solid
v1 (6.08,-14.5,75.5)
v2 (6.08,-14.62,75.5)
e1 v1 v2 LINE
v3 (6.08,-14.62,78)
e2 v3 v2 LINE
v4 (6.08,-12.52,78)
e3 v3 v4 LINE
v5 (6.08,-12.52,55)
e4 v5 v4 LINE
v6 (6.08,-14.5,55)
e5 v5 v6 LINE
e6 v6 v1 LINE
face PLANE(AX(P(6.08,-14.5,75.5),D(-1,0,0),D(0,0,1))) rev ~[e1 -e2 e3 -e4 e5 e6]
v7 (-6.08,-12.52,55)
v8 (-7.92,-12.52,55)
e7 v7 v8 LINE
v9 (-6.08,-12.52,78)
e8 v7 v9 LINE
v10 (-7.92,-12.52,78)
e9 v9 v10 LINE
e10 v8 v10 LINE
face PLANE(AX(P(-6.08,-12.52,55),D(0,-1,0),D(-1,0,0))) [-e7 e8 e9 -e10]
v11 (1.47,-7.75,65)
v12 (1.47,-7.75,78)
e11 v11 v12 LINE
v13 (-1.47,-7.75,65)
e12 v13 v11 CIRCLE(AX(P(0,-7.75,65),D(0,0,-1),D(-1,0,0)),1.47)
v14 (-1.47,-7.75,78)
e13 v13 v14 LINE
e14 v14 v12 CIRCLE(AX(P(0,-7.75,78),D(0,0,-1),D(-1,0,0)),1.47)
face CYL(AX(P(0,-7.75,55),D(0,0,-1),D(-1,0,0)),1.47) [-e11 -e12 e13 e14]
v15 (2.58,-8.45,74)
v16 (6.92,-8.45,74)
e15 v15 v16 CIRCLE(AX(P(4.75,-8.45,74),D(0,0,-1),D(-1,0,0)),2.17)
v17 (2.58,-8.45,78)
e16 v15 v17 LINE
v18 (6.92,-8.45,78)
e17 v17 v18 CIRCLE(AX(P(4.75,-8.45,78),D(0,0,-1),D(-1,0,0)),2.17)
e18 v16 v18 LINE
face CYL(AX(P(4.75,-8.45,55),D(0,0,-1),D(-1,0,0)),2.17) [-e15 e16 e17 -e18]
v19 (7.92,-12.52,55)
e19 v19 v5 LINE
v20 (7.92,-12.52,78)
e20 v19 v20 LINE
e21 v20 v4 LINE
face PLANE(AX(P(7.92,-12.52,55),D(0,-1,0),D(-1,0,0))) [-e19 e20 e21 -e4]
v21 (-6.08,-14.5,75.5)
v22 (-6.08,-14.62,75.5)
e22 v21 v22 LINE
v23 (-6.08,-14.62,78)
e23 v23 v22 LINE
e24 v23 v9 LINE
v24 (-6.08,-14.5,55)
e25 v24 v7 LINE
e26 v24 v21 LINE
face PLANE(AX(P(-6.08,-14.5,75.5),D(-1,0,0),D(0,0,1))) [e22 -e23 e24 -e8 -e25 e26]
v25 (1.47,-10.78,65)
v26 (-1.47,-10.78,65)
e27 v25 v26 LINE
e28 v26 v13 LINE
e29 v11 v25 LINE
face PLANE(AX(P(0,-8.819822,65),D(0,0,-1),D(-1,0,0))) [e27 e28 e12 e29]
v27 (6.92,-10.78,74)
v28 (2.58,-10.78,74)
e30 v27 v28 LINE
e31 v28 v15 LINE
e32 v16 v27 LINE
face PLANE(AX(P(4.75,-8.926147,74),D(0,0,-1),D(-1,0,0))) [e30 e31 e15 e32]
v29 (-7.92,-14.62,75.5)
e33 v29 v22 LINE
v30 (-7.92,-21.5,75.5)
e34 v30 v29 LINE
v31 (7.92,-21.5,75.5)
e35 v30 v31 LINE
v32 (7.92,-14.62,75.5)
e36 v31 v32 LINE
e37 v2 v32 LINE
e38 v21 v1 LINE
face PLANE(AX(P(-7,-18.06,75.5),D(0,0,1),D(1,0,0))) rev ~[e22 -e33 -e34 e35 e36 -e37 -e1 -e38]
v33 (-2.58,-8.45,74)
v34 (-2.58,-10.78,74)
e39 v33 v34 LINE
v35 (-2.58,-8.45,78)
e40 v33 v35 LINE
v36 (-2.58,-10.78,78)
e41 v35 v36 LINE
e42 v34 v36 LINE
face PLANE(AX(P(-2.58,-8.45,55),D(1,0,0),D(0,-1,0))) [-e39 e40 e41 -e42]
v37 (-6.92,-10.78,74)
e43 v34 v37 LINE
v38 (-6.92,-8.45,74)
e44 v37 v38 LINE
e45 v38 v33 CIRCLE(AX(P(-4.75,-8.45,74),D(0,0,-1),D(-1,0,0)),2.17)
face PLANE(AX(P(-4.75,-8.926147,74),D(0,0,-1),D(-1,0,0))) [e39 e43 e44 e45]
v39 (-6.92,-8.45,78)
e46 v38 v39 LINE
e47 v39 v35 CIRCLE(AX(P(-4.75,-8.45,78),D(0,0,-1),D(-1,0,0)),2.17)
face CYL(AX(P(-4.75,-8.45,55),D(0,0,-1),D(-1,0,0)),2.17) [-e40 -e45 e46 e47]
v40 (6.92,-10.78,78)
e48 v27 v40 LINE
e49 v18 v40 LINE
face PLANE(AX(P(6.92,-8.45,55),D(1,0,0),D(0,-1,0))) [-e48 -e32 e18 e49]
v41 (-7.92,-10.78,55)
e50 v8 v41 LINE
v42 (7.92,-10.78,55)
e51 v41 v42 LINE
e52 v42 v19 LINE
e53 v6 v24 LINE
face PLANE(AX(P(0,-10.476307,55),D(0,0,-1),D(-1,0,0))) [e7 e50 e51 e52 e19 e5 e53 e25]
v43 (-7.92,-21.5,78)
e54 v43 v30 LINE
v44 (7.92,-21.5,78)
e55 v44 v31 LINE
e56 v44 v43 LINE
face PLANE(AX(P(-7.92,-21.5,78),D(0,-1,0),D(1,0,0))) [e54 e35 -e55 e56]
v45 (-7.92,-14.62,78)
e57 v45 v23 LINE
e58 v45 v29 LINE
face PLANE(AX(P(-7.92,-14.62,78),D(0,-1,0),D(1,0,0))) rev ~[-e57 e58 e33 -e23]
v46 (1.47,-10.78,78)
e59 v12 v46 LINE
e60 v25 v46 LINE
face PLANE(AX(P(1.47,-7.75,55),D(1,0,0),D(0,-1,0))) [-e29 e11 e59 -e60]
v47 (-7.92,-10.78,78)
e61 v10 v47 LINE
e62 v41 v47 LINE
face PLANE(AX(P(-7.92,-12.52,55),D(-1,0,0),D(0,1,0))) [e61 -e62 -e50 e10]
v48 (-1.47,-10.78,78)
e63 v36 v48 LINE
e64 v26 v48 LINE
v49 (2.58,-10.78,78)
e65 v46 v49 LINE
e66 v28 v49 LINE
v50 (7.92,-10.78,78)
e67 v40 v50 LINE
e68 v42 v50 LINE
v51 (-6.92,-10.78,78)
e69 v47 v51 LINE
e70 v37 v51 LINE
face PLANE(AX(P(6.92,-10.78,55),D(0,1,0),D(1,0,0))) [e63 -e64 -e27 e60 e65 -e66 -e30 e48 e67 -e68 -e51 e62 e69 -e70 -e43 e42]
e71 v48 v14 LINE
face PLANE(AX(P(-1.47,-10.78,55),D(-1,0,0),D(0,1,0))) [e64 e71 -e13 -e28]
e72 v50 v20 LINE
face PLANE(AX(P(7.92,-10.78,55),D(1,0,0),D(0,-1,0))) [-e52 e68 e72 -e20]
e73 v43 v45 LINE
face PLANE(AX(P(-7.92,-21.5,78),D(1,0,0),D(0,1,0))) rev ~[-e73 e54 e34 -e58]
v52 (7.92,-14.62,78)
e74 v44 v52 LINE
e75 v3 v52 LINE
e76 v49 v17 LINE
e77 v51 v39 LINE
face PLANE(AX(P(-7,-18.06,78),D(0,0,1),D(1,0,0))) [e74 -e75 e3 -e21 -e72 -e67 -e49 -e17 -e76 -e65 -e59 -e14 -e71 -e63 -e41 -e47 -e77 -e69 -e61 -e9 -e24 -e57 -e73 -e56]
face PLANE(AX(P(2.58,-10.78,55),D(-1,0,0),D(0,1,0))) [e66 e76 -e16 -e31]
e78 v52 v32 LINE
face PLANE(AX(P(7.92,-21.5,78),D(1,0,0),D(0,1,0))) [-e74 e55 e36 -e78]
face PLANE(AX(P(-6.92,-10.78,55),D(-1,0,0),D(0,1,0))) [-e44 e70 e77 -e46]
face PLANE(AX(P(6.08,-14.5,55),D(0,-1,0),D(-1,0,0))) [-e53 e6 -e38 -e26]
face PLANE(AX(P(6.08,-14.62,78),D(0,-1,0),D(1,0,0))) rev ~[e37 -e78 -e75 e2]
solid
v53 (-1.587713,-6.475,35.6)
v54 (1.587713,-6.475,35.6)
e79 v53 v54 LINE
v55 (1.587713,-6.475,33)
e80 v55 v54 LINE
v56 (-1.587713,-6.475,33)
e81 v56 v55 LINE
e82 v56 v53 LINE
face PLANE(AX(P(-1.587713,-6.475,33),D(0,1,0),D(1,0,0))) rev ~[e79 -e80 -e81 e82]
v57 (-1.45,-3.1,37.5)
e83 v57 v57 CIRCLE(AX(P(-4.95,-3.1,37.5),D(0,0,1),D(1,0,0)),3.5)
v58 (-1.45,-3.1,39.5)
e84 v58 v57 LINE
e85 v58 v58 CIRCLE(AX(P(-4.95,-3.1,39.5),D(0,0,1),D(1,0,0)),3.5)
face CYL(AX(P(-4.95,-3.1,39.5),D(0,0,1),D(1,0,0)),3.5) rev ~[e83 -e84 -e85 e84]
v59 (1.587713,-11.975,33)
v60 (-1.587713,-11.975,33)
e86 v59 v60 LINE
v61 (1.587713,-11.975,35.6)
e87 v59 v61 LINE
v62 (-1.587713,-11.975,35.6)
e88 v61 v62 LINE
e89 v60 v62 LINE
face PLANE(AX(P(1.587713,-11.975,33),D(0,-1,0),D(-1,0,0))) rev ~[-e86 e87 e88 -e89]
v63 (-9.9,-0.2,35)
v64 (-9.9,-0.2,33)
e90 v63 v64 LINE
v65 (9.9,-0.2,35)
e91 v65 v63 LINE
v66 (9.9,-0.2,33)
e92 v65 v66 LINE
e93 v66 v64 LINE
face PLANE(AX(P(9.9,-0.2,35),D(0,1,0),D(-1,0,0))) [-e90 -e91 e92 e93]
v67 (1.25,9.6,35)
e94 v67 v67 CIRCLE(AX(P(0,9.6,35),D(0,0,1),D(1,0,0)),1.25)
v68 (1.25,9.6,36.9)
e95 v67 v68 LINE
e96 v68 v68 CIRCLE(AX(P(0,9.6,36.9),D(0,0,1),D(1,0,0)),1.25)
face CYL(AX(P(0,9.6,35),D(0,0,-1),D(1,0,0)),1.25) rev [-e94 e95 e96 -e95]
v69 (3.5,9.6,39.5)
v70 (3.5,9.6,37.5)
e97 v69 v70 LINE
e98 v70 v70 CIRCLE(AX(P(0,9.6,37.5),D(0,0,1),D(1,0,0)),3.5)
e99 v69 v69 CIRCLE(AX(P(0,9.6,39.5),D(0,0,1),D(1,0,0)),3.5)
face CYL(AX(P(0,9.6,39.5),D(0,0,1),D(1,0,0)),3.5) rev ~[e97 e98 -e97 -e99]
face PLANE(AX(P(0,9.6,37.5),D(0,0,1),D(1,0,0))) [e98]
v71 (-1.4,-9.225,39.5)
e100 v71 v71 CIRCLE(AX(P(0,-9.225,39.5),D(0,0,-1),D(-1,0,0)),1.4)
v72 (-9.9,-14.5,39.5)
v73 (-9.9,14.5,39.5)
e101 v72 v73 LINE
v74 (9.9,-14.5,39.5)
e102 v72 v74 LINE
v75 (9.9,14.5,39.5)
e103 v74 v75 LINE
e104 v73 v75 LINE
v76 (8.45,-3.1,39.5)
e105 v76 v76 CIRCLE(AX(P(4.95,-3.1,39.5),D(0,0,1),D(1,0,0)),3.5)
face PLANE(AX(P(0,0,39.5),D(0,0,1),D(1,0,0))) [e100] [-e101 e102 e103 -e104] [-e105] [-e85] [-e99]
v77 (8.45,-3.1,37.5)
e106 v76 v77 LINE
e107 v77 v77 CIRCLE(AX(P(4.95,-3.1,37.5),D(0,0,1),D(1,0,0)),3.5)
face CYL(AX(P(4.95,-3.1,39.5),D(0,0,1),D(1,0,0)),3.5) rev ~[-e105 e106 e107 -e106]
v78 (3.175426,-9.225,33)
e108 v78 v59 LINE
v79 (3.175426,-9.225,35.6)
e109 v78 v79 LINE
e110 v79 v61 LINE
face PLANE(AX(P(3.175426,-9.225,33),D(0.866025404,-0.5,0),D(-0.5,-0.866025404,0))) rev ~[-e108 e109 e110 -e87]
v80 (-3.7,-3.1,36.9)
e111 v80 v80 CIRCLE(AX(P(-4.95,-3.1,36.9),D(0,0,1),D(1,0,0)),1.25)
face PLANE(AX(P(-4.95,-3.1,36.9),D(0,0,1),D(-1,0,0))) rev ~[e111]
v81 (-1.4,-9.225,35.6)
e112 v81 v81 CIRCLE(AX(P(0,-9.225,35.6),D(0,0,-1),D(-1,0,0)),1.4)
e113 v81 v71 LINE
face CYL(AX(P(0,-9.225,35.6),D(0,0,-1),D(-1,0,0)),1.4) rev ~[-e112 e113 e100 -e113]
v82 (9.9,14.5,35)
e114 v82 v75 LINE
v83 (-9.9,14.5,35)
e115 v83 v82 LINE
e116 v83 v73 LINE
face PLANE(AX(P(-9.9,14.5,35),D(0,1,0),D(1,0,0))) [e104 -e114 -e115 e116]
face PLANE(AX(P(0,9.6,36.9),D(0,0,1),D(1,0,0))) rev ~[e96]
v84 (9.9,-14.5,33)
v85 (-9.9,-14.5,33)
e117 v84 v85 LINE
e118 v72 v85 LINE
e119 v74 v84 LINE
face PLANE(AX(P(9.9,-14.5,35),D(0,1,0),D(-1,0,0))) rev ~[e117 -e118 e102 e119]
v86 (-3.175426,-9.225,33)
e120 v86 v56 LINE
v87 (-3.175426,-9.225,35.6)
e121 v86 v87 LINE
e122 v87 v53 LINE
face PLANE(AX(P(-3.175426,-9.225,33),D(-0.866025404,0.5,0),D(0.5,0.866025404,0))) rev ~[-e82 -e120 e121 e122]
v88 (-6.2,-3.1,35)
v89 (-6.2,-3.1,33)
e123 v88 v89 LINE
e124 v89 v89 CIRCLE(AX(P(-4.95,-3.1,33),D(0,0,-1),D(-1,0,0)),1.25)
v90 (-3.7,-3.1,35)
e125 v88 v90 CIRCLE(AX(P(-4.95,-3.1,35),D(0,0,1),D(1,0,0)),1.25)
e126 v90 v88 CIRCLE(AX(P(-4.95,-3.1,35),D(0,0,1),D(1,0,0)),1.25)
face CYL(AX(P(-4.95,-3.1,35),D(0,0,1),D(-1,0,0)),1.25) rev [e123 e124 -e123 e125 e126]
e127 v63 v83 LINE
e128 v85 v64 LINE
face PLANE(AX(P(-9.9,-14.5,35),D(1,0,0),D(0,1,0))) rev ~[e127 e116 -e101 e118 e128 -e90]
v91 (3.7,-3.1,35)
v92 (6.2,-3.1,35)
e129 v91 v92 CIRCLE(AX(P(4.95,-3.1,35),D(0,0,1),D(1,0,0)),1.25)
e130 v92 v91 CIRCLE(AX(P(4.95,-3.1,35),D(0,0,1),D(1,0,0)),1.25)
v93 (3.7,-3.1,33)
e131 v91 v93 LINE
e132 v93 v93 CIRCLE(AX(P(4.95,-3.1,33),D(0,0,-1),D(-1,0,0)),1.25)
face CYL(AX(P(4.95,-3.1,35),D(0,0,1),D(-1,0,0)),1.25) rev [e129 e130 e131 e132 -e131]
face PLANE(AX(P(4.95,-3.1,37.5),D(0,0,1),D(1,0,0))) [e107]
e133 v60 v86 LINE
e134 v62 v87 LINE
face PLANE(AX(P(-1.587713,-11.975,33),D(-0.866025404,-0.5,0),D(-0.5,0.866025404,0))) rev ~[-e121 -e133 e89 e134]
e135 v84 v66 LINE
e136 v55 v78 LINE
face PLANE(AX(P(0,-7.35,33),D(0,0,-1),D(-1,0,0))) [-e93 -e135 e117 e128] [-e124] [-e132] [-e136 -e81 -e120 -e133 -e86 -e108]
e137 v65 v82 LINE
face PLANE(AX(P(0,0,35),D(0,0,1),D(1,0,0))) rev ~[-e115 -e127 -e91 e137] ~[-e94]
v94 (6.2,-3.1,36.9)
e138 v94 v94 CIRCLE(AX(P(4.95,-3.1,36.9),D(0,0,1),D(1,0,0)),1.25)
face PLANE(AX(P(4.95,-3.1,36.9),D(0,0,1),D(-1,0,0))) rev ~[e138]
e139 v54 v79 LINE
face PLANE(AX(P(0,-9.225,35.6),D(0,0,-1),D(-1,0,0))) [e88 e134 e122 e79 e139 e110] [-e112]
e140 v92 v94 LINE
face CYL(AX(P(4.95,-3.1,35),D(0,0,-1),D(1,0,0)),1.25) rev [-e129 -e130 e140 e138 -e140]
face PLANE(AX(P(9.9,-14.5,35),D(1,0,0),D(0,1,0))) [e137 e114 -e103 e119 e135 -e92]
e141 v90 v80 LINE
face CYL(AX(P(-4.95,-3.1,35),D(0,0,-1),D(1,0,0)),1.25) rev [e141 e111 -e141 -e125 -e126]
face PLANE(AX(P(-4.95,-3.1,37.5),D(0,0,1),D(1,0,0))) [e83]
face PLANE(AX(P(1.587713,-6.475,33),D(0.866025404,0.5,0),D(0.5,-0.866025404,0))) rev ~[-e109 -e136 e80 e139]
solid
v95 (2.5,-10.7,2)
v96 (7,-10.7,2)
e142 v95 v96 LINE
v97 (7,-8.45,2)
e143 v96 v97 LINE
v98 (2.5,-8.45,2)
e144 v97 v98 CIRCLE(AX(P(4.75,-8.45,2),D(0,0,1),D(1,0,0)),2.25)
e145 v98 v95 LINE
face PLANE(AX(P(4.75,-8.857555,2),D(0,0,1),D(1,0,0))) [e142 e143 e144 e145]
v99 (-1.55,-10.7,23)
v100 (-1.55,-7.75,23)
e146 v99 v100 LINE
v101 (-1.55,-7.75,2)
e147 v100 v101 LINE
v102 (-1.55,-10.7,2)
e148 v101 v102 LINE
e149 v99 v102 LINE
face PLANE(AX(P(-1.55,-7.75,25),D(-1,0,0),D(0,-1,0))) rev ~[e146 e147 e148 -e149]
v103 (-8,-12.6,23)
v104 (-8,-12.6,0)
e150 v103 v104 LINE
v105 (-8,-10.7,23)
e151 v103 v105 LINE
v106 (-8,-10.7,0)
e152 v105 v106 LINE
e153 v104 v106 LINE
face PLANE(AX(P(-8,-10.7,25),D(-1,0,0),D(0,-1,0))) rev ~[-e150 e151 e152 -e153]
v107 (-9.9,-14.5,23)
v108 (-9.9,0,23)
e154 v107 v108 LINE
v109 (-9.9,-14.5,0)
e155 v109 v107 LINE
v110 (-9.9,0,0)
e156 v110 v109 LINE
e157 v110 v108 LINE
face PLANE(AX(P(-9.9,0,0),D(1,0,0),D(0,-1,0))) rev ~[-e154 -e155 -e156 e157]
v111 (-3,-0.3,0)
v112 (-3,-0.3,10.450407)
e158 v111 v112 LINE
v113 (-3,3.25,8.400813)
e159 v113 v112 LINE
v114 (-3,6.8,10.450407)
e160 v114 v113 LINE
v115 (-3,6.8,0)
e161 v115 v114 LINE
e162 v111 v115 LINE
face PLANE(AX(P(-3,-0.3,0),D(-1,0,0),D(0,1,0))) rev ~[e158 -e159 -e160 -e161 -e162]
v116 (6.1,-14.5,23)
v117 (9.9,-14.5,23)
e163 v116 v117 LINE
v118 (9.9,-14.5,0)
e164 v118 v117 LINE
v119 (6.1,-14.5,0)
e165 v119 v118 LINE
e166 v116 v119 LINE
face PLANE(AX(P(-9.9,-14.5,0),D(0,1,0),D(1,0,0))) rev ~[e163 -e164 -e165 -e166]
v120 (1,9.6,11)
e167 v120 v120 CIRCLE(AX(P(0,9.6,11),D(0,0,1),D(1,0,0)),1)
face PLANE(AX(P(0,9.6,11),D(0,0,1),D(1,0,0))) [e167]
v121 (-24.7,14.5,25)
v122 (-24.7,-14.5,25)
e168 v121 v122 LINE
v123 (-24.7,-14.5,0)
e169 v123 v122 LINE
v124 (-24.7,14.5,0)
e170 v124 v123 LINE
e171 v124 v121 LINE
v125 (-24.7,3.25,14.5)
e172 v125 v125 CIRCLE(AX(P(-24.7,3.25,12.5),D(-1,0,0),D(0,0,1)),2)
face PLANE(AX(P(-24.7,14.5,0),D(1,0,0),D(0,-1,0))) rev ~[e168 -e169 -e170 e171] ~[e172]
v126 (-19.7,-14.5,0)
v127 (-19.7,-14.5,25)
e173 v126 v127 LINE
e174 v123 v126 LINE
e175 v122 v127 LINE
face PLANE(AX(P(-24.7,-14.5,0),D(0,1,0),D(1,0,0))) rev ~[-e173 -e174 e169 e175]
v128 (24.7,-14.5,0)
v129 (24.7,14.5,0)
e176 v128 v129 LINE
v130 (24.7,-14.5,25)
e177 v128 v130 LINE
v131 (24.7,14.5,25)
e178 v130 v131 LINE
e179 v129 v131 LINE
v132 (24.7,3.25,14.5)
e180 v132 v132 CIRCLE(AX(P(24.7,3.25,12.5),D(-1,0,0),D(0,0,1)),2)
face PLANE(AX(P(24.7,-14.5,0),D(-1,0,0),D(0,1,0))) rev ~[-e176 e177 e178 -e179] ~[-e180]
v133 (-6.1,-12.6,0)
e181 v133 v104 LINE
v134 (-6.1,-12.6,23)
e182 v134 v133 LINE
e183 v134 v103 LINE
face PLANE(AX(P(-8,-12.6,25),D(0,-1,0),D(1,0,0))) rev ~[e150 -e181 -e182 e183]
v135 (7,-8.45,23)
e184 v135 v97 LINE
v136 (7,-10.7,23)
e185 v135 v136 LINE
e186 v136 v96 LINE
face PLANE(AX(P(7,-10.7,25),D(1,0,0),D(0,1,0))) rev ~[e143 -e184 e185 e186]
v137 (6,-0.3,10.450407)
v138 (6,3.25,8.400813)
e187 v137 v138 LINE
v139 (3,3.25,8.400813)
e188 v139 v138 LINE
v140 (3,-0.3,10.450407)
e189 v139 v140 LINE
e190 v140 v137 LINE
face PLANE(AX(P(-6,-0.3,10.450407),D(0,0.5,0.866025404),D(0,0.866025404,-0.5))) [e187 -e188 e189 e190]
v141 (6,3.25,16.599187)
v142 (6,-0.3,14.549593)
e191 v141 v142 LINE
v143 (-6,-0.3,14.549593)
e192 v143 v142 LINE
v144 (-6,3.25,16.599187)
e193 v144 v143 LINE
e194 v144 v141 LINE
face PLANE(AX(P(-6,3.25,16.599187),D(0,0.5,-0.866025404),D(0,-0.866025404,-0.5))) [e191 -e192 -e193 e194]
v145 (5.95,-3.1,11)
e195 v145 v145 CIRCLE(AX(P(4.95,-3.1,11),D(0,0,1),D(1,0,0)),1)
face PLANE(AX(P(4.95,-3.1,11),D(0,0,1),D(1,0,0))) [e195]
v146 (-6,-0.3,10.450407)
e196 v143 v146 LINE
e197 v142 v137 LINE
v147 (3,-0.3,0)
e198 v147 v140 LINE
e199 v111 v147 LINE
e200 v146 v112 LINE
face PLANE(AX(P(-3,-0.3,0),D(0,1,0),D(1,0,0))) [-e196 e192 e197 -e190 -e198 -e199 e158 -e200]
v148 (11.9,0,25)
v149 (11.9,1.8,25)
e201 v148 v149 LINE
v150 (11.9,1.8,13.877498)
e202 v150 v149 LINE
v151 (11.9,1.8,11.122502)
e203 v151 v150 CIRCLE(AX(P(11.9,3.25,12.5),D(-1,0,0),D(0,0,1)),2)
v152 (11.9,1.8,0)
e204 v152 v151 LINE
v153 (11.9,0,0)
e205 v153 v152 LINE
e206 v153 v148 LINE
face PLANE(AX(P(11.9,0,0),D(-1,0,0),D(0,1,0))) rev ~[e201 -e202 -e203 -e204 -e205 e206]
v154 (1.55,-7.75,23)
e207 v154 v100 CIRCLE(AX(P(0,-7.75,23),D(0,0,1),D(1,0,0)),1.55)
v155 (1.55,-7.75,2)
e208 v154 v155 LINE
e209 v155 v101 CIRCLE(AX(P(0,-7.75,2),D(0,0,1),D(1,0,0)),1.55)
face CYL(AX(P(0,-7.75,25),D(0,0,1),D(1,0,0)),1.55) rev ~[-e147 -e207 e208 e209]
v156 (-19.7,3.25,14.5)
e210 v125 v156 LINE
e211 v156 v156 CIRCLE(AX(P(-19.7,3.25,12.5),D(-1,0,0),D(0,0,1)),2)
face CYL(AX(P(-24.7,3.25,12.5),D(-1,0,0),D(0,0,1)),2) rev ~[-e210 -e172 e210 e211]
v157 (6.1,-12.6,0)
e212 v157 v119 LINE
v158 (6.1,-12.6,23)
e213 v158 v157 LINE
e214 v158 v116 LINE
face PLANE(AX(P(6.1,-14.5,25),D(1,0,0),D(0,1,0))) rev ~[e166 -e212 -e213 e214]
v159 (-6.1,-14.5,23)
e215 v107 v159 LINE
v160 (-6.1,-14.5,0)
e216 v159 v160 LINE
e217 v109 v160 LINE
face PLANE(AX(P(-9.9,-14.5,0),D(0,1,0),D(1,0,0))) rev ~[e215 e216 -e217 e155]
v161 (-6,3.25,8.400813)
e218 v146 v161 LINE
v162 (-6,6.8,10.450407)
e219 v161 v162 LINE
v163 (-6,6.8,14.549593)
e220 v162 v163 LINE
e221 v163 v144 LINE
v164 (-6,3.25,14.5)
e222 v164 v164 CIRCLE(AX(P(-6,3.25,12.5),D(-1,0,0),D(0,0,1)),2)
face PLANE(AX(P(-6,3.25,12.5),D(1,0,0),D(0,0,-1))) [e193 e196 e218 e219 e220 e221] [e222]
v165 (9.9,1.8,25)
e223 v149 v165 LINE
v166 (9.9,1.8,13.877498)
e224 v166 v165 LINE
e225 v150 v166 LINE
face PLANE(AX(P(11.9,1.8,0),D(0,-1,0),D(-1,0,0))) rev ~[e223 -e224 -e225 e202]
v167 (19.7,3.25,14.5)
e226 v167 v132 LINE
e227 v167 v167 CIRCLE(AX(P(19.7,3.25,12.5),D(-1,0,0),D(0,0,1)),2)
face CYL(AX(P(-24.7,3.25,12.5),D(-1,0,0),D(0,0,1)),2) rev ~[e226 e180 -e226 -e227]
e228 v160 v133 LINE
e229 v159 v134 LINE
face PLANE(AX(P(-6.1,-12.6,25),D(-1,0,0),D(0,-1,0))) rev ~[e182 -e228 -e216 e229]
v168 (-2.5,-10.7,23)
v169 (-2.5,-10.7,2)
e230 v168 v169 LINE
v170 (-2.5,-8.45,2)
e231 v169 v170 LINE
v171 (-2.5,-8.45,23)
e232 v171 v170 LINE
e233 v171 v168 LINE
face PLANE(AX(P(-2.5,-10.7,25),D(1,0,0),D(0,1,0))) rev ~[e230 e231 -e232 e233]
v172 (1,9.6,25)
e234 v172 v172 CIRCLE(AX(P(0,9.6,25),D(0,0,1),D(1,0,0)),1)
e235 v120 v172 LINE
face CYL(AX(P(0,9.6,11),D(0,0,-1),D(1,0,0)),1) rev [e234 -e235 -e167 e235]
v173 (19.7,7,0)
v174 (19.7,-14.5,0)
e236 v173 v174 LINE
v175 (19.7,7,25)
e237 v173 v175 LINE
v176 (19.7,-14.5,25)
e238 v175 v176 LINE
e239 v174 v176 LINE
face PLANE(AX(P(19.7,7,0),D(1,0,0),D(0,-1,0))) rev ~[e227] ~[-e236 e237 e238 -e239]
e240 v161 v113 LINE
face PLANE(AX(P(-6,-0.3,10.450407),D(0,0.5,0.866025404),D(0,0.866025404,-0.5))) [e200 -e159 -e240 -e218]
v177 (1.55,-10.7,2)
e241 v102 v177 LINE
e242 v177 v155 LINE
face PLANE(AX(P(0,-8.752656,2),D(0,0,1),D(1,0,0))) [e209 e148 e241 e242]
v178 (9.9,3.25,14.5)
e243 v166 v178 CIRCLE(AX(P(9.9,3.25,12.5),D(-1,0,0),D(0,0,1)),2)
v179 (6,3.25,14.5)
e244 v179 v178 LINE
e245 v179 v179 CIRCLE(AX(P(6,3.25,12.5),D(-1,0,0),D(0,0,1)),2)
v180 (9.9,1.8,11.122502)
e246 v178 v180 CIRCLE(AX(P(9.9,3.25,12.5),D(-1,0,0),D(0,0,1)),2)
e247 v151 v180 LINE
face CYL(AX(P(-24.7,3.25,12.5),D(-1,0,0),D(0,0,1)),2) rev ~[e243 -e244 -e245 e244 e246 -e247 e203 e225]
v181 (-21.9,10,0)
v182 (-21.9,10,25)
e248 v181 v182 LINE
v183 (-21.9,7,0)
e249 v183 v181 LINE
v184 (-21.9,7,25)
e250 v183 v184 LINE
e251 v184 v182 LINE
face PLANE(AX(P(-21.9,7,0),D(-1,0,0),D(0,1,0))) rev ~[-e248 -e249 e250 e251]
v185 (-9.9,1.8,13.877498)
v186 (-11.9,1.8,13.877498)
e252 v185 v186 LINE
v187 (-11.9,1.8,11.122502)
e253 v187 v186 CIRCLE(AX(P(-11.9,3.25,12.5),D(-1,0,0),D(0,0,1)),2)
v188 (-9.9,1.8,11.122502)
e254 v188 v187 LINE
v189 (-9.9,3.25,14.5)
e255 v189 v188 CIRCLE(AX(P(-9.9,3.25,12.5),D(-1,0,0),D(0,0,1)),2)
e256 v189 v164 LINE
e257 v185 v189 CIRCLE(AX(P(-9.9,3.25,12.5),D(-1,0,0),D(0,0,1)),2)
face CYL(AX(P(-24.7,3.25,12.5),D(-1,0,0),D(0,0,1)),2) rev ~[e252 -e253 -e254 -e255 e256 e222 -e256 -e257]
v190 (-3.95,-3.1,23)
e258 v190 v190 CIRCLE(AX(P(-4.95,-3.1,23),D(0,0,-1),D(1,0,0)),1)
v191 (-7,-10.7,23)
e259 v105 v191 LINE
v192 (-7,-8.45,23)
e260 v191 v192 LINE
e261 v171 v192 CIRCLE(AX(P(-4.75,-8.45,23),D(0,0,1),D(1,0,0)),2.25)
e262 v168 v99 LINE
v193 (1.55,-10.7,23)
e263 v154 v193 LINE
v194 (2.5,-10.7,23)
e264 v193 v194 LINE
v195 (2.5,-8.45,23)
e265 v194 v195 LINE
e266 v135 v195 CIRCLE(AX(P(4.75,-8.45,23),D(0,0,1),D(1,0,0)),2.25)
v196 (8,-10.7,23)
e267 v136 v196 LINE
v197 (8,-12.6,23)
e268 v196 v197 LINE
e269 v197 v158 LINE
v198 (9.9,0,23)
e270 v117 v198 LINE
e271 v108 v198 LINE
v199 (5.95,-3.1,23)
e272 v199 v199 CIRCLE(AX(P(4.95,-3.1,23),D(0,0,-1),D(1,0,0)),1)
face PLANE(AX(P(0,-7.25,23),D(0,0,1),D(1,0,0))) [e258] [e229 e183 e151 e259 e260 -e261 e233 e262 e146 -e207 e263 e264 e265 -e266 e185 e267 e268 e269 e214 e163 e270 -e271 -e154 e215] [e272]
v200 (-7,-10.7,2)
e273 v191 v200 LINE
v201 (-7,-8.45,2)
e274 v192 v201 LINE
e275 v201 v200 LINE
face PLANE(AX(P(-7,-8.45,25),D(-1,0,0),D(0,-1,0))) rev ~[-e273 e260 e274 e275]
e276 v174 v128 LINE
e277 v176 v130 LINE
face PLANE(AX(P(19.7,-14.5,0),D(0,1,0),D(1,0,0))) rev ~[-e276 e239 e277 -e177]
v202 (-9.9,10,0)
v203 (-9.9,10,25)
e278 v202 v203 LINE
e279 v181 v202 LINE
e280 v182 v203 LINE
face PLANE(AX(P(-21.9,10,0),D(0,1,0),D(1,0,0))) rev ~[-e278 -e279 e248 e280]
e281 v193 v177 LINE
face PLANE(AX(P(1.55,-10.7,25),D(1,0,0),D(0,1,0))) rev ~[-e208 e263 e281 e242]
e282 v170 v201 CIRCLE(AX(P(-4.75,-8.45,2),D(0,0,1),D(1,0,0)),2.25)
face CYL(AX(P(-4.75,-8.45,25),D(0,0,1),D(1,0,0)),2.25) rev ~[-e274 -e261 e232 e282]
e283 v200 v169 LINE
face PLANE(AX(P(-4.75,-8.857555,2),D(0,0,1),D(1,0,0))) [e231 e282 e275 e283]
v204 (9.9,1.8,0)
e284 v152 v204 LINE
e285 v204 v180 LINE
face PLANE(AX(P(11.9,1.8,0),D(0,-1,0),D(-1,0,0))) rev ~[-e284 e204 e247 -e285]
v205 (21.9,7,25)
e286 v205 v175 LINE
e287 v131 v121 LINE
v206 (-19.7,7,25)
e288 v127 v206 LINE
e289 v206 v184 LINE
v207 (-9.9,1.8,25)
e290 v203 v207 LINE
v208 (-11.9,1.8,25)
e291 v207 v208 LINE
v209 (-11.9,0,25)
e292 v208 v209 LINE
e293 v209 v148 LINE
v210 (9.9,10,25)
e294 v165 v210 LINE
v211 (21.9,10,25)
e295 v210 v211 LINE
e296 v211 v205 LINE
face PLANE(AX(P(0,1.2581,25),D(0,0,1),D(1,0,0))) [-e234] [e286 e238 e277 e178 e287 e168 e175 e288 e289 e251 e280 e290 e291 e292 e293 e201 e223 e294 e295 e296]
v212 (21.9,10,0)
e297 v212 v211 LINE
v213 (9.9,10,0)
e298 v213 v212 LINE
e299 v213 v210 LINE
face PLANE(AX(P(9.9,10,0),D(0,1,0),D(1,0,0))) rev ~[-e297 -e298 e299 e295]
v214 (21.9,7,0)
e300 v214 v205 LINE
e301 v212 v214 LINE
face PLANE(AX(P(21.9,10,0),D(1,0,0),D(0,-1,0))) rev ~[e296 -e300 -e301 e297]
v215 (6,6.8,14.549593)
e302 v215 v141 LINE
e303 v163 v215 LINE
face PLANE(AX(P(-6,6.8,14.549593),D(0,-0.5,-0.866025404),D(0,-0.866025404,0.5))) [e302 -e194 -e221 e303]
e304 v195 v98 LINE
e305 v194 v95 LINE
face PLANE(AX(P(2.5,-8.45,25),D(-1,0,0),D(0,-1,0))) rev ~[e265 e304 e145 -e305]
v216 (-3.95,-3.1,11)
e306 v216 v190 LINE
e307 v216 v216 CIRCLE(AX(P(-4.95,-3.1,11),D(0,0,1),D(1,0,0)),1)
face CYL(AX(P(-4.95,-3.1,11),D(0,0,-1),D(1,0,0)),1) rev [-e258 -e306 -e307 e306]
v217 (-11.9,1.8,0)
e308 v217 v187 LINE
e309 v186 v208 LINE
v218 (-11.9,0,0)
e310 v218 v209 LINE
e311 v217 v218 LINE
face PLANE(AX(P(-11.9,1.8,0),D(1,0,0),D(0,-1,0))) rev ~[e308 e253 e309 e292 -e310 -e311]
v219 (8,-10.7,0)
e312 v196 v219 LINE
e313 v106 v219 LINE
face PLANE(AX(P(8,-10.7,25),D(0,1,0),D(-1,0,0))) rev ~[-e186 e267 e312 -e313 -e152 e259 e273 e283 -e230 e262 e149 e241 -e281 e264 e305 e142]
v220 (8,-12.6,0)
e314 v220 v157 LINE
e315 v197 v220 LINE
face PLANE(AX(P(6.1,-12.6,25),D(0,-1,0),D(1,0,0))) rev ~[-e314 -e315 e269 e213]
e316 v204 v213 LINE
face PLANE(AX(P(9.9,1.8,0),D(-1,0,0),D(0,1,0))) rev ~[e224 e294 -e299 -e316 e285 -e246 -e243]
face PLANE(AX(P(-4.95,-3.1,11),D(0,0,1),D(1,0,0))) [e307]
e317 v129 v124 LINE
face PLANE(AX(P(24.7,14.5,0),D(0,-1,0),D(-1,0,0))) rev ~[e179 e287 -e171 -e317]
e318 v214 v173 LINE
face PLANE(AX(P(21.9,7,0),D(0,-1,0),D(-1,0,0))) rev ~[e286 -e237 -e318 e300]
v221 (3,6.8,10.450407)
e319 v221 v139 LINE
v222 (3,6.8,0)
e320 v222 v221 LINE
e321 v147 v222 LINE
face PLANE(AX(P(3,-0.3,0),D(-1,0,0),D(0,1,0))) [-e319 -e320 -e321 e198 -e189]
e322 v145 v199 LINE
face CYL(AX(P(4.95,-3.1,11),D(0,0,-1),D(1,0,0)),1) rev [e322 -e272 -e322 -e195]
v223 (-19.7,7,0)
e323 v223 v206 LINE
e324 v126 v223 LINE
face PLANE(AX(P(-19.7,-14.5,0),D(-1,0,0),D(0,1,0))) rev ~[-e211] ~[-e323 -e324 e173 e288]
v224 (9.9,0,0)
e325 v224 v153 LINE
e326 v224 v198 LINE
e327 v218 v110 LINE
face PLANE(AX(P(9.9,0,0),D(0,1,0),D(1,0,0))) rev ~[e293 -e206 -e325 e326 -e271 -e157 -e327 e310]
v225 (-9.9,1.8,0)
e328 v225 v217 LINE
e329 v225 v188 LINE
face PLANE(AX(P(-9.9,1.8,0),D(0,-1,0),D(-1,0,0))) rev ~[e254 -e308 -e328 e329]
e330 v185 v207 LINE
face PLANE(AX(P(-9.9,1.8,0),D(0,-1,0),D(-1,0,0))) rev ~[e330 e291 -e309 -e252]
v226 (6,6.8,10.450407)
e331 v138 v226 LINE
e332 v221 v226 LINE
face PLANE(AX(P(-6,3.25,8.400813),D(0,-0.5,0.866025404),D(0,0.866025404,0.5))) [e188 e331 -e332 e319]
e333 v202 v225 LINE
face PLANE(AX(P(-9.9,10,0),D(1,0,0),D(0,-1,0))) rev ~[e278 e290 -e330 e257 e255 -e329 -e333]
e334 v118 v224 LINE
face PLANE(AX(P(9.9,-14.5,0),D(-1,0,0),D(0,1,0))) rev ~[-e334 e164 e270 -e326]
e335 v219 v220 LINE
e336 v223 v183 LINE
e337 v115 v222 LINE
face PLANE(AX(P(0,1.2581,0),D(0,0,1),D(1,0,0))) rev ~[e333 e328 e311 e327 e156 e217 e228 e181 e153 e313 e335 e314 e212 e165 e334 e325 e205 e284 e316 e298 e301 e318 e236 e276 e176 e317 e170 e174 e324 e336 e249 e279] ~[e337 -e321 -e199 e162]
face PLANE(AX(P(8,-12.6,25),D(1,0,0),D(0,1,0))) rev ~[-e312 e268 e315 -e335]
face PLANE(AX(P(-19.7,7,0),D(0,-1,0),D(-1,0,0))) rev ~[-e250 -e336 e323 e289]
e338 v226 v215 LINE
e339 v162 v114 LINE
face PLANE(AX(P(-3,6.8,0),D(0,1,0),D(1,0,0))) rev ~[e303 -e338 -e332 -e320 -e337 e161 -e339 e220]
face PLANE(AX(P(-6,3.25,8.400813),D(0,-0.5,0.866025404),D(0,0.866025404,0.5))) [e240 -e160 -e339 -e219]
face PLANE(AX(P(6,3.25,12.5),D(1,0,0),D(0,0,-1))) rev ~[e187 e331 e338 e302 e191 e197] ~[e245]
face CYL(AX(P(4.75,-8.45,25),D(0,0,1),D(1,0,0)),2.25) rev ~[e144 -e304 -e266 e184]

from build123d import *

# Parameters (mm, degrees)
BOSS_EXTRUDE1_DEPTH     = 25
SKETCH2_R               = 2
CUT_EXTRUDE1_DEPTH      = 58.232945058
CUT_EXTRUDE2_DEPTH      = 6
CUT_EXTRUDE2_DEPTH_BACK = 6
SKETCH6_W               = 6
SKETCH6_H               = 7.1
CUT_EXTRUDE3_DEPTH      = 10.450407
CUT_EXTRUDE4_REACH      = 40.018
CUT_EXTRUDE5_DEPTH      = 23
SKETCH12_W              = 19.8
SKETCH12_H              = 14.5
CUT_EXTRUDE6_DEPTH      = 2
CUT_EXTRUDE7_DEPTH      = 2
CUT_EXTRUDE7_DEPTH_BACK = 12
SKETCH13_R              = 1
SKETCH14_W              = 19.8
SKETCH14_H              = 29
SKETCH14_R              = 1.25
BOSS_EXTRUDE2_DEPTH     = 4.5
SKETCH15_W              = 19.8
SKETCH15_H              = 14.3
SKETCH15_R              = 1.25
BOSS_EXTRUDE3_DEPTH     = 2
SKETCH16_R              = 3.5
CUT_EXTRUDE8_DEPTH      = 2
SKETCH17_R              = 1.25
BOSS_EXTRUDE4_DEPTH     = 0.6
CUT_EXTRUDE9_DEPTH      = 2.6
SKETCH19_R              = 1.4
CUT_EXTRUDE10_DEPTH     = 3.9
BOSS_EXTRUDE5_DEPTH     = 23
SKETCH21_W              = 12.16
SKETCH21_H              = 2.5
BOSS_EXTRUDE6_DEPTH     = 7
CUT_EXTRUDE11_DEPTH     = 10
CUT_EXTRUDE12_DEPTH     = 9
SKETCH25_W              = 1.84
SKETCH25_H              = 6.88
BOSS_EXTRUDE7_DEPTH     = 2.5


with BuildPart() as part:
    # Sketch1 → Boss-Extrude1 (new body)
    with BuildSketch(Plane.XY):
        Polygon((-21.9, 7), (-21.9, 10), (-9.9, 10), (-9.9, 1.8), (-11.9, 1.8), (-11.9, 0), (-9.9, 0), (-9.9, -14.5), (9.9, -14.5), (9.9, 0), (11.9, 0), (11.9, 1.8), (9.9, 1.8), (9.9, 10), (21.9, 10), (21.9, 7), (19.7, 7), (19.7, -14.5), (24.7, -14.5), (24.7, 14.5), (-24.7, 14.5), (-24.7, -14.5), (-19.7, -14.5), (-19.7, 7), align=None)
    extrude(amount=BOSS_EXTRUDE1_DEPTH)

    # Sketch2 → Cut-Extrude1 (cut, through all)
    with BuildSketch(Plane.ZY.offset(24.7)):
        with Locations((12.5, 3.25)):
            Circle(SKETCH2_R)
    extrude(amount=-CUT_EXTRUDE1_DEPTH, mode=Mode.SUBTRACT)

    # Sketch5 → Cut-Extrude2 (cut, two sides: drawn at the far end of the back side and taken through both)
    with BuildSketch(Plane(origin=(0, 0, 0), x_dir=(0, 0, -1), z_dir=(1, 0, 0)).offset(-CUT_EXTRUDE2_DEPTH_BACK)):
        Polygon((-8.400813089, 3.25), (-10.450406544, 6.8), (-14.549593456, 6.8), (-16.599186911, 3.25), (-14.549593456, -0.3), (-10.450406544, -0.3), align=None)
    extrude(amount=CUT_EXTRUDE2_DEPTH + CUT_EXTRUDE2_DEPTH_BACK, mode=Mode.SUBTRACT)

    # Sketch6 → Cut-Extrude3 (cut)
    with BuildSketch(Plane.XY):
        with Locations((0, 3.25)):
            Rectangle(SKETCH6_W, SKETCH6_H)
    extrude(amount=CUT_EXTRUDE3_DEPTH, mode=Mode.SUBTRACT)

    # Sketch9 → Cut-Extrude4 (cut, up to next)
    with BuildSketch(Plane.XY.offset(25), mode=Mode.PRIVATE) as cut_extrude4_sk1:
        Polygon((-6.1, -14.5), (6.1, -14.5), (6.1, -12.6), (8, -12.6), (8, -10.7), (-8, -10.7), (-8, -12.6), (-6.1, -12.6), align=None)
    cut_extrude4_tool1 = extrude(cut_extrude4_sk1.sketch, amount=-CUT_EXTRUDE4_REACH, mode=Mode.PRIVATE) & part.part
    add(cut_extrude4_tool1.solids().sort_by_distance((0, -12.471986, 25))[0], mode=Mode.SUBTRACT)

    # Sketch11 → Cut-Extrude5 (cut)
    with BuildSketch(Plane.XY.offset(25)):
        with BuildLine():
            Line((-7, -8.45), (-7, -10.7))
            Line((-7, -10.7), (-2.5, -10.7))
            Line((-2.5, -10.7), (-2.5, -8.45))
            ThreePointArc((-2.5, -8.45), (-4.75, -6.2), (-7, -8.45))
        make_face()
        with BuildLine():
            Line((2.5, -8.45), (2.5, -10.7))
            Line((2.5, -10.7), (7, -10.7))
            Line((7, -10.7), (7, -8.45))
            ThreePointArc((7, -8.45), (4.75, -6.2), (2.5, -8.45))
        make_face()
        with BuildLine():
            Line((-1.55, -7.75), (-1.55, -10.7))
            Line((-1.55, -10.7), (1.55, -10.7))
            Line((1.55, -10.7), (1.55, -7.75))
            ThreePointArc((1.55, -7.75), (0, -6.2), (-1.55, -7.75))
        make_face()
    extrude(amount=-CUT_EXTRUDE5_DEPTH, mode=Mode.SUBTRACT)

    # Sketch12 → Cut-Extrude6 (cut)
    with BuildSketch(Plane.XY.offset(25)):
        with Locations((0, -7.25)):
            Rectangle(SKETCH12_W, SKETCH12_H)
    extrude(amount=-CUT_EXTRUDE6_DEPTH, mode=Mode.SUBTRACT)

    # Sketch13 → Cut-Extrude7 (cut, two sides: drawn at the far end of the back side and taken through both)
    with BuildSketch(Plane.XY.offset(23).offset(-CUT_EXTRUDE7_DEPTH_BACK)):
        with Locations((-4.95, -3.1)):
            Circle(SKETCH13_R)
        with Locations((4.95, -3.1)):
            Circle(SKETCH13_R)
        with Locations((0, 9.6)):
            Circle(SKETCH13_R)
    extrude(amount=CUT_EXTRUDE7_DEPTH + CUT_EXTRUDE7_DEPTH_BACK, mode=Mode.SUBTRACT)


with BuildPart() as body_2:
    # Sketch14 → Boss-Extrude2 (new body)
    with BuildSketch(Plane.XY.offset(35)):
        Rectangle(SKETCH14_W, SKETCH14_H)
        with Locations((0, 9.6)):
            Circle(SKETCH14_R, mode=Mode.SUBTRACT)
        with Locations((-4.95, -3.1)):
            Circle(SKETCH14_R, mode=Mode.SUBTRACT)
        with Locations((4.95, -3.1)):
            Circle(SKETCH14_R, mode=Mode.SUBTRACT)
    extrude(amount=BOSS_EXTRUDE2_DEPTH)

    # Sketch15 → Boss-Extrude3 (add)
    with BuildSketch(Plane(origin=(0, 0, 35), x_dir=(-1, 0, 0), z_dir=(0, 0, -1))):
        with Locations((0, -7.35)):
            Rectangle(SKETCH15_W, SKETCH15_H)
        with Locations((4.95, -3.1)):
            Circle(SKETCH15_R, mode=Mode.SUBTRACT)
        with Locations((-4.95, -3.1)):
            Circle(SKETCH15_R, mode=Mode.SUBTRACT)
    extrude(amount=BOSS_EXTRUDE3_DEPTH)

    # Sketch16 → Cut-Extrude8 (cut)
    with BuildSketch(Plane.XY.offset(39.5)):
        with Locations((4.95, -3.1)):
            Circle(SKETCH16_R)
        with Locations((-4.95, -3.1)):
            Circle(SKETCH16_R)
        with Locations((0, 9.6)):
            Circle(SKETCH16_R)
    extrude(amount=-CUT_EXTRUDE8_DEPTH, mode=Mode.SUBTRACT)

    # Sketch17 → Boss-Extrude4 (add)
    with BuildSketch(Plane.XY.offset(37.5)):
        with Locations((0, 9.6)):
            Circle(SKETCH17_R)
        with Locations(Location((-4.95, -3.1, 0), (0, 0, 180))):
            Circle(SKETCH17_R)
        with Locations(Location((4.95, -3.1, 0), (0, 0, 180))):
            Circle(SKETCH17_R)
    extrude(amount=-BOSS_EXTRUDE4_DEPTH)

    # Sketch18 → Cut-Extrude9 (cut)
    with BuildSketch(Plane(origin=(0, 0, 33), x_dir=(-1, 0, 0), z_dir=(0, 0, -1))):
        Polygon((-3.175426481, -9.225), (-1.58771324, -11.975), (1.58771324, -11.975), (3.175426481, -9.225), (1.58771324, -6.475), (-1.58771324, -6.475), align=None)
    extrude(amount=-CUT_EXTRUDE9_DEPTH, mode=Mode.SUBTRACT)

    # Sketch19 → Cut-Extrude10 (cut)
    with BuildSketch(Plane(origin=(0, 0, 35.6), x_dir=(-1, 0, 0), z_dir=(0, 0, -1))):
        with Locations((0, -9.225)):
            Circle(SKETCH19_R)
    extrude(amount=-CUT_EXTRUDE10_DEPTH, mode=Mode.SUBTRACT)


with BuildPart() as body_3:
    # Sketch20 → Boss-Extrude5 (new body)
    with BuildSketch(Plane.XY.offset(55)):
        with BuildLine():
            Line((-6.08, -12.52), (-7.92, -12.52))
            Line((-7.92, -12.52), (-7.92, -10.78))
            Line((-7.92, -10.78), (-6.92, -10.78))
            Line((-6.92, -10.78), (-6.92, -8.45))
            ThreePointArc((-6.92, -8.45), (-4.75, -6.28), (-2.58, -8.45))
            Line((-2.58, -8.45), (-2.58, -10.78))
            Line((-2.58, -10.78), (-1.47, -10.78))
            Line((-1.47, -10.78), (-1.47, -7.75))
            ThreePointArc((-1.47, -7.75), (0, -6.28), (1.47, -7.75))
            Line((1.47, -7.75), (1.47, -10.78))
            Line((1.47, -10.78), (2.58, -10.78))
            Line((2.58, -10.78), (2.58, -8.45))
            ThreePointArc((2.58, -8.45), (4.75, -6.28), (6.92, -8.45))
            Line((6.92, -8.45), (6.92, -10.78))
            Line((6.92, -10.78), (7.92, -10.78))
            Line((7.92, -10.78), (7.92, -12.52))
            Line((7.92, -12.52), (6.08, -12.52))
            Line((6.08, -12.52), (6.08, -14.5))
            Line((6.08, -14.5), (-6.08, -14.5))
            Line((-6.08, -14.5), (-6.08, -12.52))
        make_face()
    extrude(amount=BOSS_EXTRUDE5_DEPTH)

    # Sketch21 → Boss-Extrude6 (add)
    with BuildSketch(Plane.XZ.offset(14.5)):
        with Locations((0, 76.75)):
            Rectangle(SKETCH21_W, SKETCH21_H)
    extrude(amount=BOSS_EXTRUDE6_DEPTH)

    # Sketch22 → Cut-Extrude11 (cut)
    with BuildSketch(Plane(origin=(0, 0, 55), x_dir=(-1, 0, 0), z_dir=(0, 0, -1))):
        with BuildLine():
            Line((2.58, -10.78), (6.92, -10.78))
            Line((6.92, -10.78), (6.92, -8.45))
            ThreePointArc((6.92, -8.45), (4.75, -6.28), (2.58, -8.45))
            Line((2.58, -8.45), (2.58, -10.78))
        make_face()
        with BuildLine():
            Line((-1.47, -10.78), (1.47, -10.78))
            Line((1.47, -10.78), (1.47, -7.75))
            ThreePointArc((1.47, -7.75), (0, -6.28), (-1.47, -7.75))
            Line((-1.47, -7.75), (-1.47, -10.78))
        make_face()
        with BuildLine():
            Line((-6.92, -10.78), (-2.58, -10.78))
            Line((-2.58, -10.78), (-2.58, -8.45))
            ThreePointArc((-2.58, -8.45), (-4.75, -6.28), (-6.92, -8.45))
            Line((-6.92, -8.45), (-6.92, -10.78))
        make_face()
    extrude(amount=-CUT_EXTRUDE11_DEPTH, mode=Mode.SUBTRACT)

    # Sketch23 → Cut-Extrude12 (cut)
    with BuildSketch(Plane(origin=(0, 0, 65), x_dir=(-1, 0, 0), z_dir=(0, 0, -1))):
        with BuildLine():
            Line((6.92, -10.78), (6.92, -8.45))
            ThreePointArc((6.92, -8.45), (4.75, -6.28), (2.58, -8.45))
            Line((2.58, -8.45), (2.58, -10.78))
            Line((2.58, -10.78), (6.92, -10.78))
        make_face()
        with BuildLine():
            Line((-2.58, -10.78), (-2.58, -8.45))
            ThreePointArc((-2.58, -8.45), (-4.75, -6.28), (-6.92, -8.45))
            Line((-6.92, -8.45), (-6.92, -10.78))
            Line((-6.92, -10.78), (-2.58, -10.78))
        make_face()
    extrude(amount=-CUT_EXTRUDE12_DEPTH, mode=Mode.SUBTRACT)

    # Sketch25 → Boss-Extrude7 (add)
    with BuildSketch(Plane.XY.offset(78)):
        with Locations((-7, -18.06)):
            Rectangle(SKETCH25_W, SKETCH25_H)
        with Locations((7, -18.06)):
            Rectangle(SKETCH25_W, SKETCH25_H)
    extrude(amount=-BOSS_EXTRUDE7_DEPTH)


solid = Compound([part.part, body_2.part, body_3.part])
